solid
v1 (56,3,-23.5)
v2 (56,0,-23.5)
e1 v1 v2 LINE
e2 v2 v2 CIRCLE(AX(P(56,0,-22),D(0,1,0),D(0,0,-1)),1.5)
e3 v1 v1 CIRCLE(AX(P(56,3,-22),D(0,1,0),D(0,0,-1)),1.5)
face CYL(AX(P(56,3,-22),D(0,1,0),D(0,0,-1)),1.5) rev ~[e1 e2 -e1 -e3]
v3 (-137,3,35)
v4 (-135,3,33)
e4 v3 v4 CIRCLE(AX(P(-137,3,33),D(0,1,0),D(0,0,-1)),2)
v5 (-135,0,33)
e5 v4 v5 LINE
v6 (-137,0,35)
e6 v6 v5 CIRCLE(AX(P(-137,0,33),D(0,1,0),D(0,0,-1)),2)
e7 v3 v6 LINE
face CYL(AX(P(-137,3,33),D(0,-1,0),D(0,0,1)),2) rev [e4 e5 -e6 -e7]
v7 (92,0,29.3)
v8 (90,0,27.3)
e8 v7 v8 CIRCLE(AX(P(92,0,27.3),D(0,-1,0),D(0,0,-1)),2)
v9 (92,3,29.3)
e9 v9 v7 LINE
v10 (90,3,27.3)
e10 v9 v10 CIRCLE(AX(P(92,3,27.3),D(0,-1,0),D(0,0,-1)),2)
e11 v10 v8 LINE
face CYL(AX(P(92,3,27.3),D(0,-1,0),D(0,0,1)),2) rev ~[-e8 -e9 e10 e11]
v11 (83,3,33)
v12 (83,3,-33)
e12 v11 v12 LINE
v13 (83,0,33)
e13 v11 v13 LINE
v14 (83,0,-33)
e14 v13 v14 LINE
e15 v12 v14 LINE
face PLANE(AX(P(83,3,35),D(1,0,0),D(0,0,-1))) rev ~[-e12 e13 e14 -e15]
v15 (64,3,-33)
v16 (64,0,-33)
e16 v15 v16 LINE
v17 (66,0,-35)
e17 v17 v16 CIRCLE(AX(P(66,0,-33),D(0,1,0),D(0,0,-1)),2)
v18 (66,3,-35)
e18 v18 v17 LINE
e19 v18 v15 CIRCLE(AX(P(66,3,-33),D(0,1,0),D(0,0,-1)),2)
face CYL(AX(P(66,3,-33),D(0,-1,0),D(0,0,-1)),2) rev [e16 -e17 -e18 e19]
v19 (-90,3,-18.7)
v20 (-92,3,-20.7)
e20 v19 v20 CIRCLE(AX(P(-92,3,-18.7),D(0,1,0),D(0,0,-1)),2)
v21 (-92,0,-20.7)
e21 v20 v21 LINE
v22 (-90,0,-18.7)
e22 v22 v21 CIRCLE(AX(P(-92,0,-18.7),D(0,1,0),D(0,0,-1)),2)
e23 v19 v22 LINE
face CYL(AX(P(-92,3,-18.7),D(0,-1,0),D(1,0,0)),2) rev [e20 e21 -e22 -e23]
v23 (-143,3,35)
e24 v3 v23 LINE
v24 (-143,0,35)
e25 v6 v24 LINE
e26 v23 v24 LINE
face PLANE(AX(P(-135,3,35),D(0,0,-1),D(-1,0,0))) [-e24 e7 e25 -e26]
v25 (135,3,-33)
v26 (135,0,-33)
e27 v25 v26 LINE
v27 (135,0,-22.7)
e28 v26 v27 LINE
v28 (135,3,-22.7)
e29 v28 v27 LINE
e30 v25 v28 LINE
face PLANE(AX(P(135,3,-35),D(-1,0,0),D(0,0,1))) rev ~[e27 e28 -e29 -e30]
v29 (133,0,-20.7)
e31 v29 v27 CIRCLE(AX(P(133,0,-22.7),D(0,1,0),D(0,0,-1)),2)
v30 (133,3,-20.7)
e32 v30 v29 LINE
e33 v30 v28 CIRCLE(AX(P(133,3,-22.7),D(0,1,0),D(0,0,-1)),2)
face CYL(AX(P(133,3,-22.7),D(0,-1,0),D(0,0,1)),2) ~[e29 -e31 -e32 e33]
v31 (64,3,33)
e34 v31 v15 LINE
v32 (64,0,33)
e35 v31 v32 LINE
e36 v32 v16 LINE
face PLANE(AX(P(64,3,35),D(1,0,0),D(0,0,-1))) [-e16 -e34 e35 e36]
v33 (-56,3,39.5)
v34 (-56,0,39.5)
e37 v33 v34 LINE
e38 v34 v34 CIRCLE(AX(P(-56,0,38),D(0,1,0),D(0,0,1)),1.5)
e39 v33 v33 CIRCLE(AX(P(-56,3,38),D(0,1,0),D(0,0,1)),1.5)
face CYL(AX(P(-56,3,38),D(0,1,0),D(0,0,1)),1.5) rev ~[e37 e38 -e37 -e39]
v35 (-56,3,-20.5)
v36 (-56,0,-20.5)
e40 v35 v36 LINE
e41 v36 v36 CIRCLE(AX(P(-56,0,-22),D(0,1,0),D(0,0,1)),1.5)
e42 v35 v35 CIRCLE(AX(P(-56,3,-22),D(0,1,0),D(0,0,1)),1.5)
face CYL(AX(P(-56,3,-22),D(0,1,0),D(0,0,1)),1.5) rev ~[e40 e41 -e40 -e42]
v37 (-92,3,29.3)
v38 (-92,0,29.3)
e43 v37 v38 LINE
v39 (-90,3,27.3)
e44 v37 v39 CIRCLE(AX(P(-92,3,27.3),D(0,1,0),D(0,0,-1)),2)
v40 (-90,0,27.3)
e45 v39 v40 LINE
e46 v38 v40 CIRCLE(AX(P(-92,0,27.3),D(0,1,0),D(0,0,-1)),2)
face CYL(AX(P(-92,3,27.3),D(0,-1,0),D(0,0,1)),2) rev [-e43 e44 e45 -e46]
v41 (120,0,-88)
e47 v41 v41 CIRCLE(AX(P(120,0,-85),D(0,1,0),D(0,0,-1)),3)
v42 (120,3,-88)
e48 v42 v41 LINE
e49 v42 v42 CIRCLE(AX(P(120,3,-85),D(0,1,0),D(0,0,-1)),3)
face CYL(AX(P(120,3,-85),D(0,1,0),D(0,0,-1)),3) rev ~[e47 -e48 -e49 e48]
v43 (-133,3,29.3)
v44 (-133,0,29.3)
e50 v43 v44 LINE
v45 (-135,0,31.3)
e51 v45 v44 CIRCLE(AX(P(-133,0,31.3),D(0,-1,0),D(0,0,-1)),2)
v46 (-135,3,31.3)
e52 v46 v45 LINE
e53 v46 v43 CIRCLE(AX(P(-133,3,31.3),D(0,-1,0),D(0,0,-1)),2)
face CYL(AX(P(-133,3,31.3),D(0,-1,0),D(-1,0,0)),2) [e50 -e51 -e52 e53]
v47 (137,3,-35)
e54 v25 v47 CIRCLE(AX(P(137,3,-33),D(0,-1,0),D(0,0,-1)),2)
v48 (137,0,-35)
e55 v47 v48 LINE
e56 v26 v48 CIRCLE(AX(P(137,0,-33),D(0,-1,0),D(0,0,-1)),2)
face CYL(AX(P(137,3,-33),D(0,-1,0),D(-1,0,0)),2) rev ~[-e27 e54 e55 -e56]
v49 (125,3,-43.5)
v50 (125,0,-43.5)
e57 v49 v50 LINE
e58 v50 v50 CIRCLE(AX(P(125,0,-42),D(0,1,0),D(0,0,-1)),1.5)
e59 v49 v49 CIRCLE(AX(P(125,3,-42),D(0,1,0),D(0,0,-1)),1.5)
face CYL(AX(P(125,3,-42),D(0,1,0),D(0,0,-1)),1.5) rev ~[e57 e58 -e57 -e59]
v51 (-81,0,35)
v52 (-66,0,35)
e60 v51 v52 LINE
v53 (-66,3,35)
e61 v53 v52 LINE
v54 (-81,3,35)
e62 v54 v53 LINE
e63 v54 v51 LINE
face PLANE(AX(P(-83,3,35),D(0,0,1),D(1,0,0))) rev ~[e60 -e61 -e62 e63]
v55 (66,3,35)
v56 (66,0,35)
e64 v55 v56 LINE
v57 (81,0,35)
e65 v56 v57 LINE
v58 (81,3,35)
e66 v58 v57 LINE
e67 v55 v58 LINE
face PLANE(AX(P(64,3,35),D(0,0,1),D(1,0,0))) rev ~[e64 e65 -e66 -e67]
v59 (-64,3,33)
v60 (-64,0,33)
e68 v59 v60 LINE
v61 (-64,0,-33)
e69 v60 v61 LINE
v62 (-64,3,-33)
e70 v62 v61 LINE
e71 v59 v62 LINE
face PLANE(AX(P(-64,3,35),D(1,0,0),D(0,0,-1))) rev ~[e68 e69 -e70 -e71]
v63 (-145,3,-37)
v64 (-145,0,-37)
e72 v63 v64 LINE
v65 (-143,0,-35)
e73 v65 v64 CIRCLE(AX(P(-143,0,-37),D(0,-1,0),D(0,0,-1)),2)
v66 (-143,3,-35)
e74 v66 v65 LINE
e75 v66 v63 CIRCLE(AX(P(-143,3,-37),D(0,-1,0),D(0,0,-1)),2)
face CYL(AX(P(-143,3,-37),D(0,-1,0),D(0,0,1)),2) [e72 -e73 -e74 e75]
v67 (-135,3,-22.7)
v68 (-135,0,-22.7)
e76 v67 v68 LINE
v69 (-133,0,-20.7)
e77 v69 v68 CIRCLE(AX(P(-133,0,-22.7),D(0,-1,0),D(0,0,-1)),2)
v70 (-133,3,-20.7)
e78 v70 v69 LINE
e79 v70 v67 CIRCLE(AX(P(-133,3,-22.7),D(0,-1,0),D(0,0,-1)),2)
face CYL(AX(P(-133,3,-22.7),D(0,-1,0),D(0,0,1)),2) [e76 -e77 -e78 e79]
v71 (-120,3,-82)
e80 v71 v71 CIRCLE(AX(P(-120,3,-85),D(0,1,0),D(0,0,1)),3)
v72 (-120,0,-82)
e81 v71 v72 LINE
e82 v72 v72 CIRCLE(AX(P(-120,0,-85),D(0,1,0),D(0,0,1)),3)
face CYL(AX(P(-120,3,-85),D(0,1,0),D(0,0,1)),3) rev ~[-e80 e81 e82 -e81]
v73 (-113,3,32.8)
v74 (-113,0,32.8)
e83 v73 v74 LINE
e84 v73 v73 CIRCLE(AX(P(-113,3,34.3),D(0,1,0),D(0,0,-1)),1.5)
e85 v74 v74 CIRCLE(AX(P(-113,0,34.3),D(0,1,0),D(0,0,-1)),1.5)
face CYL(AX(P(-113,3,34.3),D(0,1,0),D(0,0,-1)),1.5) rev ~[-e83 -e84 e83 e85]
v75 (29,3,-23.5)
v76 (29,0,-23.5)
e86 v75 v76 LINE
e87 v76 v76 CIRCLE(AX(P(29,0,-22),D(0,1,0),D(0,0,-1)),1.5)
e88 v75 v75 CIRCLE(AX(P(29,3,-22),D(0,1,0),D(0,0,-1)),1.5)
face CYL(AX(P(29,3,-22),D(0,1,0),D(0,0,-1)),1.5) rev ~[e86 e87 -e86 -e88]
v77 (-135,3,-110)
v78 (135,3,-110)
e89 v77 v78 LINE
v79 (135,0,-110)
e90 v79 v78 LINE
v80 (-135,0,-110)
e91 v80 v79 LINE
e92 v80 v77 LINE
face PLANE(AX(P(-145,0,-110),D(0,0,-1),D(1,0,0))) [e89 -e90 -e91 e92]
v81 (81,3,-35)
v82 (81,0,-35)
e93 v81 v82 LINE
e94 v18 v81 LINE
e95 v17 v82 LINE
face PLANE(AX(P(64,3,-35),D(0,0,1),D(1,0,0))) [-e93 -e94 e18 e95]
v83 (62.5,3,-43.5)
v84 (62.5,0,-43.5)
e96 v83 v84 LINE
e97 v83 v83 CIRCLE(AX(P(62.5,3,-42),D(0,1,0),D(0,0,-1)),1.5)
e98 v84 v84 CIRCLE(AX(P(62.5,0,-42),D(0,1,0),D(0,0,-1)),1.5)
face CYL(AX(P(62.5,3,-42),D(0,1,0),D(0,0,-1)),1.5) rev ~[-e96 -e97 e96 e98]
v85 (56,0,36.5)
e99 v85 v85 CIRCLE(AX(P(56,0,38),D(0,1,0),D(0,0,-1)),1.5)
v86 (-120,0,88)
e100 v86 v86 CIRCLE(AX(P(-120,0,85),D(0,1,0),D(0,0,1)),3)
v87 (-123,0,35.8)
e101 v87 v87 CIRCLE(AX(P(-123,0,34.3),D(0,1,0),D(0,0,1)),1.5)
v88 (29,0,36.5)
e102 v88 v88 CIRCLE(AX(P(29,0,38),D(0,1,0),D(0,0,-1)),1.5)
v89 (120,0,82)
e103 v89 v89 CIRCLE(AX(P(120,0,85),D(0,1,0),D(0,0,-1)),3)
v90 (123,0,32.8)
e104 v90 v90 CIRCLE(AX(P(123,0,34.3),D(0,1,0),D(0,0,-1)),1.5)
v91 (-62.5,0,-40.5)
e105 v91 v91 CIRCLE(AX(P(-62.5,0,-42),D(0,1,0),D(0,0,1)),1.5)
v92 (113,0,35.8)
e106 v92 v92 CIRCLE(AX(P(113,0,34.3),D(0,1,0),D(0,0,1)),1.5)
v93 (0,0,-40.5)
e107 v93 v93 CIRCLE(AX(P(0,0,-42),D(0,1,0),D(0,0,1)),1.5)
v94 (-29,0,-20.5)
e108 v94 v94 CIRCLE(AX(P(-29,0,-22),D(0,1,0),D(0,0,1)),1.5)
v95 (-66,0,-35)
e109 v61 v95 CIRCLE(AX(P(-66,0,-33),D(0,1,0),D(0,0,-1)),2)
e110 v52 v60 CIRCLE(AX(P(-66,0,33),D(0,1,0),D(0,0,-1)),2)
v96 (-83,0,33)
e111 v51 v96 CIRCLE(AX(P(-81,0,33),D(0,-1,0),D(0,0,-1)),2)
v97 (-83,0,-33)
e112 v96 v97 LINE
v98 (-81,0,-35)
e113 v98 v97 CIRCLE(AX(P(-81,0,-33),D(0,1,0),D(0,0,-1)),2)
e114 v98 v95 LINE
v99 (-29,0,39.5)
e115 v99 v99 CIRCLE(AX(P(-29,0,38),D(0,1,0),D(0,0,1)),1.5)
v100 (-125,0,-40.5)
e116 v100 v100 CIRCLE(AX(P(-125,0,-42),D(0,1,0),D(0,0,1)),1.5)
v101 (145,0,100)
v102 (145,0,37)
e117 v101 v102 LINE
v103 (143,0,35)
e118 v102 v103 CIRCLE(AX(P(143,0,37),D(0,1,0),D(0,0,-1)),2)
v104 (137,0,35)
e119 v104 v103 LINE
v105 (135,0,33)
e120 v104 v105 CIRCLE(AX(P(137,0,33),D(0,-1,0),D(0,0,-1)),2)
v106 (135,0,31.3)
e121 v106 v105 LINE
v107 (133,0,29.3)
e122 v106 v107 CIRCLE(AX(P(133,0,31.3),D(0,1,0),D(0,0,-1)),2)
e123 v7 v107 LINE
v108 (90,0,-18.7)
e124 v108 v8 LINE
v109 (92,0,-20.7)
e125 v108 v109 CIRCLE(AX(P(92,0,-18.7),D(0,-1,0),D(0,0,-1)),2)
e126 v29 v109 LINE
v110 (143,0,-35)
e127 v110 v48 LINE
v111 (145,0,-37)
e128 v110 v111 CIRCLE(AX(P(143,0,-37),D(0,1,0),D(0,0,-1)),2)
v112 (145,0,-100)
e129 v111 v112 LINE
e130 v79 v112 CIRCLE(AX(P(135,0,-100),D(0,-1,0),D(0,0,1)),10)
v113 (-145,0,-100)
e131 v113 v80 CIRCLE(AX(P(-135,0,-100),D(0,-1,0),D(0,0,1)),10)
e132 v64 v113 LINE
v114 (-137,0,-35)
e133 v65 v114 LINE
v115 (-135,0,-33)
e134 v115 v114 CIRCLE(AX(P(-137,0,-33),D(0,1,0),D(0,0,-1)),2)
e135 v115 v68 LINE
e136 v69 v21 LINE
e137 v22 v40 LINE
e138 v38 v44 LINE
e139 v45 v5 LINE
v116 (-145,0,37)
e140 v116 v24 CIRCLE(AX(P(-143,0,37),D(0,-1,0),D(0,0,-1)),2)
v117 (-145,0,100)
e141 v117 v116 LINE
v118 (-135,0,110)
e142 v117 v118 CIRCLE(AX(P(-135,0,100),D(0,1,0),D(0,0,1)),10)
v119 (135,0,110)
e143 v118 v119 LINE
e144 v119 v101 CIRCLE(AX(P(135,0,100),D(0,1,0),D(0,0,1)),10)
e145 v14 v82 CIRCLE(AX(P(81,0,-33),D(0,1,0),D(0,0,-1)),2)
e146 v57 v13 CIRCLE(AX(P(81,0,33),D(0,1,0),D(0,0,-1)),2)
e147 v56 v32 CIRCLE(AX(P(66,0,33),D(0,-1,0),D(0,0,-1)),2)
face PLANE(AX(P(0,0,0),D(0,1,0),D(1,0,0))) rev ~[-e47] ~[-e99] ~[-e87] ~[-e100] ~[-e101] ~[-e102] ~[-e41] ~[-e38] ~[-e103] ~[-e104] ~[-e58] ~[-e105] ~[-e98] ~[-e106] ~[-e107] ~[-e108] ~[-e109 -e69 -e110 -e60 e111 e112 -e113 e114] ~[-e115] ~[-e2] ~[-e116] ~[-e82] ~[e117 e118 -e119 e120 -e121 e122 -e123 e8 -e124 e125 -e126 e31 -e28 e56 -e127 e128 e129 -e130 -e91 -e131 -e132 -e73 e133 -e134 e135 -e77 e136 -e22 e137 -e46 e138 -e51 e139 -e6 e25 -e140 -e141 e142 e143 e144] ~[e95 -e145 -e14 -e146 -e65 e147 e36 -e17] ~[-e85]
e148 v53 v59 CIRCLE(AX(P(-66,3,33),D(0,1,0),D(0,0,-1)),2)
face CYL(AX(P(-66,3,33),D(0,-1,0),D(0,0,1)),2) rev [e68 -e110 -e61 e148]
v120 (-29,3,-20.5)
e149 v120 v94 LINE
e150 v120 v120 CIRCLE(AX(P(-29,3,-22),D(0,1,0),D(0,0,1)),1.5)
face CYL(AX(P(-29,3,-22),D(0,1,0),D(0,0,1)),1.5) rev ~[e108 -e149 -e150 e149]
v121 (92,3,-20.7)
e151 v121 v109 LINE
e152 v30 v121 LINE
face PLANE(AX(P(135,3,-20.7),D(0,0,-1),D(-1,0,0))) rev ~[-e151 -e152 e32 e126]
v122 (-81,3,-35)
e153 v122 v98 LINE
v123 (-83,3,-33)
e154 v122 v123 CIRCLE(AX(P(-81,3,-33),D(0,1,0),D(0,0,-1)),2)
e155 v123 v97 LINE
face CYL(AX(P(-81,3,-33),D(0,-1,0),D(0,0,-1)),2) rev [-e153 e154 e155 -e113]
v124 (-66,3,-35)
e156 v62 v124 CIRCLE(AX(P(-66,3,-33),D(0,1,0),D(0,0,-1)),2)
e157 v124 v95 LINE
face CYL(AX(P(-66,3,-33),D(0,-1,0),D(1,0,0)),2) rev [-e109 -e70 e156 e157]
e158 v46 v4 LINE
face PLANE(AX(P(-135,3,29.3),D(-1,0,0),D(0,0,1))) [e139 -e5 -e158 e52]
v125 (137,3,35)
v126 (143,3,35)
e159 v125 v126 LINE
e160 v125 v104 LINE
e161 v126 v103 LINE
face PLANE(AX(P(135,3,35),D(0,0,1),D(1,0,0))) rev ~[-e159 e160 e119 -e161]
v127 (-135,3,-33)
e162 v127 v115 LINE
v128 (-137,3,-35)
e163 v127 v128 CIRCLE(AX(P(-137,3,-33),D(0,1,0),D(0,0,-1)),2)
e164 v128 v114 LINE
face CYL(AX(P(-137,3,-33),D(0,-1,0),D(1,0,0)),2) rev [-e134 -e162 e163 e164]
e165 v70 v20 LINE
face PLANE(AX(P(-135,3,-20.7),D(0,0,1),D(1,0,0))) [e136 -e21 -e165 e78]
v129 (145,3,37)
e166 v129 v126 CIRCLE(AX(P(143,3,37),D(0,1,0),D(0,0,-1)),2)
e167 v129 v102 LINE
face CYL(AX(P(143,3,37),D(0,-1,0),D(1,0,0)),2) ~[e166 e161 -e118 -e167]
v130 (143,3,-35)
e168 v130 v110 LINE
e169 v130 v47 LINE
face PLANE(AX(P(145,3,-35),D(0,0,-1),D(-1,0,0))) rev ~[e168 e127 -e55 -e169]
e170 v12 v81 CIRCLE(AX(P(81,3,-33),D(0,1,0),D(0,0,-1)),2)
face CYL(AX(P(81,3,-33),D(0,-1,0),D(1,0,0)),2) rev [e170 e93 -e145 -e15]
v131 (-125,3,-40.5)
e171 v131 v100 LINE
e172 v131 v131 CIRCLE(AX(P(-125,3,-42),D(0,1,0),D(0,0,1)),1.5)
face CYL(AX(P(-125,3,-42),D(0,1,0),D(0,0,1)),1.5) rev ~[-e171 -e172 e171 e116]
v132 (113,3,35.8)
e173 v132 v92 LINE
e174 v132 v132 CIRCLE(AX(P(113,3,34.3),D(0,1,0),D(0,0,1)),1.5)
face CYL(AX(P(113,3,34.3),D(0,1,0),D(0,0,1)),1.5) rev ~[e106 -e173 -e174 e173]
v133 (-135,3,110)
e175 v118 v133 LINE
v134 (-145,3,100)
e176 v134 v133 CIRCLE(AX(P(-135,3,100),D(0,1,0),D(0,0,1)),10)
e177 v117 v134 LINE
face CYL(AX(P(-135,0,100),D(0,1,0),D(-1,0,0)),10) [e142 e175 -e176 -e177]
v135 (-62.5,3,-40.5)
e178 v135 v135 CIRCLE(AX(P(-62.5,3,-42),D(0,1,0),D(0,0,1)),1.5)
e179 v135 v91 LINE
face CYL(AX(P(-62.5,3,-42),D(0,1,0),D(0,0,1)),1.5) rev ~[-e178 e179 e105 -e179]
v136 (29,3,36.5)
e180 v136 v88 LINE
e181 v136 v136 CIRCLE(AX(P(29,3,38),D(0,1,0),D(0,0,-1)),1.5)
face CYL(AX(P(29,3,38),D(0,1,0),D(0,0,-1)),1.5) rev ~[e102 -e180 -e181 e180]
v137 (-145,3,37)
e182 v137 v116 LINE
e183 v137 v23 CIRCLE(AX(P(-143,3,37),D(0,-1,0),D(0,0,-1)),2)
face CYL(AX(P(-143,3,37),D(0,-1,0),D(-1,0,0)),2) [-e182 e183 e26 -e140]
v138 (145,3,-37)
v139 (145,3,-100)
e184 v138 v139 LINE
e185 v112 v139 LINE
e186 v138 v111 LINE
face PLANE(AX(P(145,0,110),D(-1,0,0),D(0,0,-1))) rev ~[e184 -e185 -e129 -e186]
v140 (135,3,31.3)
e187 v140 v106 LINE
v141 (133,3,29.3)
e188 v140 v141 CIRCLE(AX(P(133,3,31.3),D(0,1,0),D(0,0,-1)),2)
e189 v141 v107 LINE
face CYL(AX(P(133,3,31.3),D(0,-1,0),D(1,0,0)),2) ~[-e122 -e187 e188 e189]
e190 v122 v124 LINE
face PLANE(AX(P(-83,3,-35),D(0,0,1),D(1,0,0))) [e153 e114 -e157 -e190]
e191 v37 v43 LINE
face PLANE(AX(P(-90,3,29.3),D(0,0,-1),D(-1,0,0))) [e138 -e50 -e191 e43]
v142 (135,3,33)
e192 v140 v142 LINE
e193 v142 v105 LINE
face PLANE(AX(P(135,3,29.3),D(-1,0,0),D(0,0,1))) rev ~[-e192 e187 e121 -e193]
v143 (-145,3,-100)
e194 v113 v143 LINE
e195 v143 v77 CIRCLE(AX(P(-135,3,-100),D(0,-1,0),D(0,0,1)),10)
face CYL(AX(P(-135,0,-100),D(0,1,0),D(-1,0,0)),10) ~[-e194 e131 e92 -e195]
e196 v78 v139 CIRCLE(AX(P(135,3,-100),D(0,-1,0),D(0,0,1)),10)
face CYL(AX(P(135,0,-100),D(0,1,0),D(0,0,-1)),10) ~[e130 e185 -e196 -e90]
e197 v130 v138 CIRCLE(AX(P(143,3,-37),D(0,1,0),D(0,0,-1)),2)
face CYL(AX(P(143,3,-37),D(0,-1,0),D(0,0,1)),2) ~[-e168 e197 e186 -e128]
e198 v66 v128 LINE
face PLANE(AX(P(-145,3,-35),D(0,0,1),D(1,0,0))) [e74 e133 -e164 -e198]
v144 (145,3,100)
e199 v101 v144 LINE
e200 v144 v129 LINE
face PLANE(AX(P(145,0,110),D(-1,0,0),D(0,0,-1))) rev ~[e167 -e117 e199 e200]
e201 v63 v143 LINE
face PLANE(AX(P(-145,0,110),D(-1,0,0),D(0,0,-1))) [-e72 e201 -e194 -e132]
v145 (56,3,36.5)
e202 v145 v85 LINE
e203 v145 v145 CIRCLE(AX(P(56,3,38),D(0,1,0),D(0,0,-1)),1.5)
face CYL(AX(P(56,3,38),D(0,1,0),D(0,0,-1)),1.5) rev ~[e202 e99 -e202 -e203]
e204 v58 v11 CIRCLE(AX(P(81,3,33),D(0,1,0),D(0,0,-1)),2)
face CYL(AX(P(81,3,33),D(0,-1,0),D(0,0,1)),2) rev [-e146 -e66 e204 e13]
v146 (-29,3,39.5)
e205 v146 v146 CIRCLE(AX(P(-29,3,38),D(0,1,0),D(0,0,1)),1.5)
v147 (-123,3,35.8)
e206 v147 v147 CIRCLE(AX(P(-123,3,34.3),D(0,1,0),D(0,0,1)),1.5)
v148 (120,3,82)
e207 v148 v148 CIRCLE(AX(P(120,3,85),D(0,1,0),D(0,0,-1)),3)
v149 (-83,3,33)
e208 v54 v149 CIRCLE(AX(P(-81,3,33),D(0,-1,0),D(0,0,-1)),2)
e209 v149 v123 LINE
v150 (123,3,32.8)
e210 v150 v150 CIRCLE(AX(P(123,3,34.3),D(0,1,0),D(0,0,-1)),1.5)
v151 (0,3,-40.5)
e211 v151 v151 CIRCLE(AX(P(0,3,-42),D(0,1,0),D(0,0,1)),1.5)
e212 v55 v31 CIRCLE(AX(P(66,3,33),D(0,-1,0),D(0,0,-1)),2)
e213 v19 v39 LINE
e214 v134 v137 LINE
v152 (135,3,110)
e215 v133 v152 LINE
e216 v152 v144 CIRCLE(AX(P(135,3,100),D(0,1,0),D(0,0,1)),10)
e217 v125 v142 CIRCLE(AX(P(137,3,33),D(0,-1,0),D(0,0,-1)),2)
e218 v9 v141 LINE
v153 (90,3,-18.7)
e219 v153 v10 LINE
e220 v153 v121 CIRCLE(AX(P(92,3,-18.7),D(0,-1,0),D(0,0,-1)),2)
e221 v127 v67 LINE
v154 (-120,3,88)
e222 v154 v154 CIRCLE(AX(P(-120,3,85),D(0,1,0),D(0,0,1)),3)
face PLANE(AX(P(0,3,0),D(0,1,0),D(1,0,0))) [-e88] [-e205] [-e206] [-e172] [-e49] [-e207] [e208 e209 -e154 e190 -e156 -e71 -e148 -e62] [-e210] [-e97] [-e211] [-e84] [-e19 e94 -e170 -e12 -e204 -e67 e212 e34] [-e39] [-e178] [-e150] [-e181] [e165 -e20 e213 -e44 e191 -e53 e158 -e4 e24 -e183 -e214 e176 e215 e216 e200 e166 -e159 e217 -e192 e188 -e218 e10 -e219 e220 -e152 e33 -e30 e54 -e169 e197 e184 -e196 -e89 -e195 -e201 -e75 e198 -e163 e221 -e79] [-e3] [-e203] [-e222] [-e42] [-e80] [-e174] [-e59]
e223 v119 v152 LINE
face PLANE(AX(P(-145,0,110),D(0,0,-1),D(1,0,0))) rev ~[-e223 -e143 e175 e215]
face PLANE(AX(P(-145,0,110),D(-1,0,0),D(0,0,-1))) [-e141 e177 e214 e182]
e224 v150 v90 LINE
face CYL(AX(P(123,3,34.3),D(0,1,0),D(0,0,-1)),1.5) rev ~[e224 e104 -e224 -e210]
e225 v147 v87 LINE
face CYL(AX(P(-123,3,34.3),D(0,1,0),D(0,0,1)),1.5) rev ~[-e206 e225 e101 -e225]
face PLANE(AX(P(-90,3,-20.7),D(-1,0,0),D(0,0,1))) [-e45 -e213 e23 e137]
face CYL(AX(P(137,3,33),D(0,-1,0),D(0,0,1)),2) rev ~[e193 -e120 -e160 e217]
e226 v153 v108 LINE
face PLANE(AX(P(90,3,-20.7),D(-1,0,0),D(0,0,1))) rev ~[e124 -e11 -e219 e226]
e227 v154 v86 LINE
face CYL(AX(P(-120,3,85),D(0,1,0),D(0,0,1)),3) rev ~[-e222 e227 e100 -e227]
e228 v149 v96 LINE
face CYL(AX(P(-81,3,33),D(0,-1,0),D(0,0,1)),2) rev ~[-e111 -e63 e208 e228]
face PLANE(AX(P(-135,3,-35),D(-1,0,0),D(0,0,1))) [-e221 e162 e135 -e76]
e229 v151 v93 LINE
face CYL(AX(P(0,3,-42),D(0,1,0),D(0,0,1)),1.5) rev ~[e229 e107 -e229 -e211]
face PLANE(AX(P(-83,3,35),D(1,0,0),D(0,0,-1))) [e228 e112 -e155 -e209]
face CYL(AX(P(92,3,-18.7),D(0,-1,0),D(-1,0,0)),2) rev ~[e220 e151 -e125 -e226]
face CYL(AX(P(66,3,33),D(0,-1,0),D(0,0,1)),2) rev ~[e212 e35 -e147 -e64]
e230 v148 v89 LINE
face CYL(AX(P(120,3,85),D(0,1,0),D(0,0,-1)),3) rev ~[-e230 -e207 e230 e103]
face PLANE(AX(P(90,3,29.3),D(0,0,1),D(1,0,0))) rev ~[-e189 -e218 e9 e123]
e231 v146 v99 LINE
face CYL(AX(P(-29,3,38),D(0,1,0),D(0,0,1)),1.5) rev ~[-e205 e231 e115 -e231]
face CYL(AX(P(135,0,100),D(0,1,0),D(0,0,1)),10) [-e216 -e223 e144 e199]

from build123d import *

# Parameters (mm, degrees)
SKETCH_1_W          = 290
SKETCH_1_H          = 220
EXTRUDE_1_DEPTH     = 3
SKETCH_2_R          = 1.5
SKETCH_2_R_2        = 3
SKETCH_2_W          = 19
SKETCH_2_H          = 70
CUT_EXTRUDE_1_DEPTH = 183.027470454
FILLET_1_R          = 10
FILLET_2_R          = 2


with BuildPart() as part:
    # Эскиз1 → Бобышка-Вытянуть1 (new body)
    with BuildSketch(Plane(origin=(0, 0, 0), x_dir=(1, 0, 0), z_dir=(0, 1, 0))):
        Rectangle(SKETCH_1_W, SKETCH_1_H)
    extrude(amount=EXTRUDE_1_DEPTH)

    # Эскиз2 → Вырез-Вытянуть1 (cut, through all)
    with BuildSketch(Plane(origin=(0, 3, 0), x_dir=(1, 0, 0), z_dir=(0, 1, 0))):
        with Locations(Location((-123, -34.3, 0), (0, 0, 270))):
            Circle(SKETCH_2_R)
        with Locations(Location((-113, -34.3, 0), (0, 0, 90))):
            Circle(SKETCH_2_R)
        with Locations(Location((123, -34.3, 0), (0, 0, 90))):
            Circle(SKETCH_2_R)
        with Locations(Location((113, -34.3, 0), (0, 0, 270))):
            Circle(SKETCH_2_R)
        with Locations(Location((-56, -38, 0), (0, 0, 270))):
            Circle(SKETCH_2_R)
        with Locations(Location((-29, -38, 0), (0, 0, 270))):
            Circle(SKETCH_2_R)
        with Locations(Location((-56, 22, 0), (0, 0, 270))):
            Circle(SKETCH_2_R)
        with Locations(Location((-29, 22, 0), (0, 0, 270))):
            Circle(SKETCH_2_R)
        with Locations(Location((56, -38, 0), (0, 0, 90))):
            Circle(SKETCH_2_R)
        with Locations(Location((29, -38, 0), (0, 0, 90))):
            Circle(SKETCH_2_R)
        with Locations(Location((29, 22, 0), (0, 0, 90))):
            Circle(SKETCH_2_R)
        with Locations(Location((56, 22, 0), (0, 0, 90))):
            Circle(SKETCH_2_R)
        with Locations(Location((-125, 42, 0), (0, 0, 270))):
            Circle(SKETCH_2_R)
        with Locations(Location((-62.5, 42, 0), (0, 0, 270))):
            Circle(SKETCH_2_R)
        with Locations(Location((0, 42, 0), (0, 0, 270))):
            Circle(SKETCH_2_R)
        with Locations(Location((125, 42, 0), (0, 0, 90))):
            Circle(SKETCH_2_R)
        with Locations(Location((62.5, 42, 0), (0, 0, 90))):
            Circle(SKETCH_2_R)
        with Locations(Location((-120, 85, 0), (0, 0, 270))):
            Circle(SKETCH_2_R_2)
        with Locations(Location((-120, -85, 0), (0, 0, 270))):
            Circle(SKETCH_2_R_2)
        with Locations(Location((120, 85, 0), (0, 0, 90))):
            Circle(SKETCH_2_R_2)
        with Locations(Location((120, -85, 0), (0, 0, 90))):
            Circle(SKETCH_2_R_2)
        Polygon((135, -35), (145, -35), (145, 35), (135, 35), (135, 20.7), (90, 20.7), (90, -29.3), (135, -29.3), align=None)
        Polygon((-135, -35), (-145, -35), (-145, 35), (-135, 35), (-135, 20.7), (-90, 20.7), (-90, -29.3), (-135, -29.3), align=None)
        with Locations((73.5, 0)):
            Rectangle(SKETCH_2_W, SKETCH_2_H)
        with Locations((-73.5, 0)):
            Rectangle(SKETCH_2_W, SKETCH_2_H)
    extrude(amount=-CUT_EXTRUDE_1_DEPTH, mode=Mode.SUBTRACT)

    # Скругление1
    fillet_1_edges = [part.edges().sort_by_distance(p)[0] for p in [
        (145, 1.5, 110),
        (-145, 1.5, 110),
        (-145, 1.5, -110),
        (145, 1.5, -110),
    ]]
    fillet(fillet_1_edges, radius=FILLET_1_R)

    # Скругление2
    fillet_2_edges = [part.edges().sort_by_distance(p)[0] for p in [
        (-145, 1.5, 35),
        (-145, 1.5, -35),
        (-135, 1.5, -35),
        (-135, 1.5, -20.7),
        (-90, 1.5, -20.7),
        (-90, 1.5, 29.3),
        (-135, 1.5, 29.3),
        (-135, 1.5, 35),
        (135, 1.5, 35),
        (135, 1.5, 29.3),
        (90, 1.5, 29.3),
        (90, 1.5, -20.7),
        (135, 1.5, -20.7),
        (135, 1.5, -35),
        (145, 1.5, -35),
        (145, 1.5, 35),
        (-64, 1.5, -35),
        (-64, 1.5, 35),
        (-83, 1.5, 35),
        (-83, 1.5, -35),
        (83, 1.5, -35),
        (83, 1.5, 35),
        (64, 1.5, 35),
        (64, 1.5, -35),
    ]]
    fillet(fillet_2_edges, radius=FILLET_2_R)


solid = part.part
